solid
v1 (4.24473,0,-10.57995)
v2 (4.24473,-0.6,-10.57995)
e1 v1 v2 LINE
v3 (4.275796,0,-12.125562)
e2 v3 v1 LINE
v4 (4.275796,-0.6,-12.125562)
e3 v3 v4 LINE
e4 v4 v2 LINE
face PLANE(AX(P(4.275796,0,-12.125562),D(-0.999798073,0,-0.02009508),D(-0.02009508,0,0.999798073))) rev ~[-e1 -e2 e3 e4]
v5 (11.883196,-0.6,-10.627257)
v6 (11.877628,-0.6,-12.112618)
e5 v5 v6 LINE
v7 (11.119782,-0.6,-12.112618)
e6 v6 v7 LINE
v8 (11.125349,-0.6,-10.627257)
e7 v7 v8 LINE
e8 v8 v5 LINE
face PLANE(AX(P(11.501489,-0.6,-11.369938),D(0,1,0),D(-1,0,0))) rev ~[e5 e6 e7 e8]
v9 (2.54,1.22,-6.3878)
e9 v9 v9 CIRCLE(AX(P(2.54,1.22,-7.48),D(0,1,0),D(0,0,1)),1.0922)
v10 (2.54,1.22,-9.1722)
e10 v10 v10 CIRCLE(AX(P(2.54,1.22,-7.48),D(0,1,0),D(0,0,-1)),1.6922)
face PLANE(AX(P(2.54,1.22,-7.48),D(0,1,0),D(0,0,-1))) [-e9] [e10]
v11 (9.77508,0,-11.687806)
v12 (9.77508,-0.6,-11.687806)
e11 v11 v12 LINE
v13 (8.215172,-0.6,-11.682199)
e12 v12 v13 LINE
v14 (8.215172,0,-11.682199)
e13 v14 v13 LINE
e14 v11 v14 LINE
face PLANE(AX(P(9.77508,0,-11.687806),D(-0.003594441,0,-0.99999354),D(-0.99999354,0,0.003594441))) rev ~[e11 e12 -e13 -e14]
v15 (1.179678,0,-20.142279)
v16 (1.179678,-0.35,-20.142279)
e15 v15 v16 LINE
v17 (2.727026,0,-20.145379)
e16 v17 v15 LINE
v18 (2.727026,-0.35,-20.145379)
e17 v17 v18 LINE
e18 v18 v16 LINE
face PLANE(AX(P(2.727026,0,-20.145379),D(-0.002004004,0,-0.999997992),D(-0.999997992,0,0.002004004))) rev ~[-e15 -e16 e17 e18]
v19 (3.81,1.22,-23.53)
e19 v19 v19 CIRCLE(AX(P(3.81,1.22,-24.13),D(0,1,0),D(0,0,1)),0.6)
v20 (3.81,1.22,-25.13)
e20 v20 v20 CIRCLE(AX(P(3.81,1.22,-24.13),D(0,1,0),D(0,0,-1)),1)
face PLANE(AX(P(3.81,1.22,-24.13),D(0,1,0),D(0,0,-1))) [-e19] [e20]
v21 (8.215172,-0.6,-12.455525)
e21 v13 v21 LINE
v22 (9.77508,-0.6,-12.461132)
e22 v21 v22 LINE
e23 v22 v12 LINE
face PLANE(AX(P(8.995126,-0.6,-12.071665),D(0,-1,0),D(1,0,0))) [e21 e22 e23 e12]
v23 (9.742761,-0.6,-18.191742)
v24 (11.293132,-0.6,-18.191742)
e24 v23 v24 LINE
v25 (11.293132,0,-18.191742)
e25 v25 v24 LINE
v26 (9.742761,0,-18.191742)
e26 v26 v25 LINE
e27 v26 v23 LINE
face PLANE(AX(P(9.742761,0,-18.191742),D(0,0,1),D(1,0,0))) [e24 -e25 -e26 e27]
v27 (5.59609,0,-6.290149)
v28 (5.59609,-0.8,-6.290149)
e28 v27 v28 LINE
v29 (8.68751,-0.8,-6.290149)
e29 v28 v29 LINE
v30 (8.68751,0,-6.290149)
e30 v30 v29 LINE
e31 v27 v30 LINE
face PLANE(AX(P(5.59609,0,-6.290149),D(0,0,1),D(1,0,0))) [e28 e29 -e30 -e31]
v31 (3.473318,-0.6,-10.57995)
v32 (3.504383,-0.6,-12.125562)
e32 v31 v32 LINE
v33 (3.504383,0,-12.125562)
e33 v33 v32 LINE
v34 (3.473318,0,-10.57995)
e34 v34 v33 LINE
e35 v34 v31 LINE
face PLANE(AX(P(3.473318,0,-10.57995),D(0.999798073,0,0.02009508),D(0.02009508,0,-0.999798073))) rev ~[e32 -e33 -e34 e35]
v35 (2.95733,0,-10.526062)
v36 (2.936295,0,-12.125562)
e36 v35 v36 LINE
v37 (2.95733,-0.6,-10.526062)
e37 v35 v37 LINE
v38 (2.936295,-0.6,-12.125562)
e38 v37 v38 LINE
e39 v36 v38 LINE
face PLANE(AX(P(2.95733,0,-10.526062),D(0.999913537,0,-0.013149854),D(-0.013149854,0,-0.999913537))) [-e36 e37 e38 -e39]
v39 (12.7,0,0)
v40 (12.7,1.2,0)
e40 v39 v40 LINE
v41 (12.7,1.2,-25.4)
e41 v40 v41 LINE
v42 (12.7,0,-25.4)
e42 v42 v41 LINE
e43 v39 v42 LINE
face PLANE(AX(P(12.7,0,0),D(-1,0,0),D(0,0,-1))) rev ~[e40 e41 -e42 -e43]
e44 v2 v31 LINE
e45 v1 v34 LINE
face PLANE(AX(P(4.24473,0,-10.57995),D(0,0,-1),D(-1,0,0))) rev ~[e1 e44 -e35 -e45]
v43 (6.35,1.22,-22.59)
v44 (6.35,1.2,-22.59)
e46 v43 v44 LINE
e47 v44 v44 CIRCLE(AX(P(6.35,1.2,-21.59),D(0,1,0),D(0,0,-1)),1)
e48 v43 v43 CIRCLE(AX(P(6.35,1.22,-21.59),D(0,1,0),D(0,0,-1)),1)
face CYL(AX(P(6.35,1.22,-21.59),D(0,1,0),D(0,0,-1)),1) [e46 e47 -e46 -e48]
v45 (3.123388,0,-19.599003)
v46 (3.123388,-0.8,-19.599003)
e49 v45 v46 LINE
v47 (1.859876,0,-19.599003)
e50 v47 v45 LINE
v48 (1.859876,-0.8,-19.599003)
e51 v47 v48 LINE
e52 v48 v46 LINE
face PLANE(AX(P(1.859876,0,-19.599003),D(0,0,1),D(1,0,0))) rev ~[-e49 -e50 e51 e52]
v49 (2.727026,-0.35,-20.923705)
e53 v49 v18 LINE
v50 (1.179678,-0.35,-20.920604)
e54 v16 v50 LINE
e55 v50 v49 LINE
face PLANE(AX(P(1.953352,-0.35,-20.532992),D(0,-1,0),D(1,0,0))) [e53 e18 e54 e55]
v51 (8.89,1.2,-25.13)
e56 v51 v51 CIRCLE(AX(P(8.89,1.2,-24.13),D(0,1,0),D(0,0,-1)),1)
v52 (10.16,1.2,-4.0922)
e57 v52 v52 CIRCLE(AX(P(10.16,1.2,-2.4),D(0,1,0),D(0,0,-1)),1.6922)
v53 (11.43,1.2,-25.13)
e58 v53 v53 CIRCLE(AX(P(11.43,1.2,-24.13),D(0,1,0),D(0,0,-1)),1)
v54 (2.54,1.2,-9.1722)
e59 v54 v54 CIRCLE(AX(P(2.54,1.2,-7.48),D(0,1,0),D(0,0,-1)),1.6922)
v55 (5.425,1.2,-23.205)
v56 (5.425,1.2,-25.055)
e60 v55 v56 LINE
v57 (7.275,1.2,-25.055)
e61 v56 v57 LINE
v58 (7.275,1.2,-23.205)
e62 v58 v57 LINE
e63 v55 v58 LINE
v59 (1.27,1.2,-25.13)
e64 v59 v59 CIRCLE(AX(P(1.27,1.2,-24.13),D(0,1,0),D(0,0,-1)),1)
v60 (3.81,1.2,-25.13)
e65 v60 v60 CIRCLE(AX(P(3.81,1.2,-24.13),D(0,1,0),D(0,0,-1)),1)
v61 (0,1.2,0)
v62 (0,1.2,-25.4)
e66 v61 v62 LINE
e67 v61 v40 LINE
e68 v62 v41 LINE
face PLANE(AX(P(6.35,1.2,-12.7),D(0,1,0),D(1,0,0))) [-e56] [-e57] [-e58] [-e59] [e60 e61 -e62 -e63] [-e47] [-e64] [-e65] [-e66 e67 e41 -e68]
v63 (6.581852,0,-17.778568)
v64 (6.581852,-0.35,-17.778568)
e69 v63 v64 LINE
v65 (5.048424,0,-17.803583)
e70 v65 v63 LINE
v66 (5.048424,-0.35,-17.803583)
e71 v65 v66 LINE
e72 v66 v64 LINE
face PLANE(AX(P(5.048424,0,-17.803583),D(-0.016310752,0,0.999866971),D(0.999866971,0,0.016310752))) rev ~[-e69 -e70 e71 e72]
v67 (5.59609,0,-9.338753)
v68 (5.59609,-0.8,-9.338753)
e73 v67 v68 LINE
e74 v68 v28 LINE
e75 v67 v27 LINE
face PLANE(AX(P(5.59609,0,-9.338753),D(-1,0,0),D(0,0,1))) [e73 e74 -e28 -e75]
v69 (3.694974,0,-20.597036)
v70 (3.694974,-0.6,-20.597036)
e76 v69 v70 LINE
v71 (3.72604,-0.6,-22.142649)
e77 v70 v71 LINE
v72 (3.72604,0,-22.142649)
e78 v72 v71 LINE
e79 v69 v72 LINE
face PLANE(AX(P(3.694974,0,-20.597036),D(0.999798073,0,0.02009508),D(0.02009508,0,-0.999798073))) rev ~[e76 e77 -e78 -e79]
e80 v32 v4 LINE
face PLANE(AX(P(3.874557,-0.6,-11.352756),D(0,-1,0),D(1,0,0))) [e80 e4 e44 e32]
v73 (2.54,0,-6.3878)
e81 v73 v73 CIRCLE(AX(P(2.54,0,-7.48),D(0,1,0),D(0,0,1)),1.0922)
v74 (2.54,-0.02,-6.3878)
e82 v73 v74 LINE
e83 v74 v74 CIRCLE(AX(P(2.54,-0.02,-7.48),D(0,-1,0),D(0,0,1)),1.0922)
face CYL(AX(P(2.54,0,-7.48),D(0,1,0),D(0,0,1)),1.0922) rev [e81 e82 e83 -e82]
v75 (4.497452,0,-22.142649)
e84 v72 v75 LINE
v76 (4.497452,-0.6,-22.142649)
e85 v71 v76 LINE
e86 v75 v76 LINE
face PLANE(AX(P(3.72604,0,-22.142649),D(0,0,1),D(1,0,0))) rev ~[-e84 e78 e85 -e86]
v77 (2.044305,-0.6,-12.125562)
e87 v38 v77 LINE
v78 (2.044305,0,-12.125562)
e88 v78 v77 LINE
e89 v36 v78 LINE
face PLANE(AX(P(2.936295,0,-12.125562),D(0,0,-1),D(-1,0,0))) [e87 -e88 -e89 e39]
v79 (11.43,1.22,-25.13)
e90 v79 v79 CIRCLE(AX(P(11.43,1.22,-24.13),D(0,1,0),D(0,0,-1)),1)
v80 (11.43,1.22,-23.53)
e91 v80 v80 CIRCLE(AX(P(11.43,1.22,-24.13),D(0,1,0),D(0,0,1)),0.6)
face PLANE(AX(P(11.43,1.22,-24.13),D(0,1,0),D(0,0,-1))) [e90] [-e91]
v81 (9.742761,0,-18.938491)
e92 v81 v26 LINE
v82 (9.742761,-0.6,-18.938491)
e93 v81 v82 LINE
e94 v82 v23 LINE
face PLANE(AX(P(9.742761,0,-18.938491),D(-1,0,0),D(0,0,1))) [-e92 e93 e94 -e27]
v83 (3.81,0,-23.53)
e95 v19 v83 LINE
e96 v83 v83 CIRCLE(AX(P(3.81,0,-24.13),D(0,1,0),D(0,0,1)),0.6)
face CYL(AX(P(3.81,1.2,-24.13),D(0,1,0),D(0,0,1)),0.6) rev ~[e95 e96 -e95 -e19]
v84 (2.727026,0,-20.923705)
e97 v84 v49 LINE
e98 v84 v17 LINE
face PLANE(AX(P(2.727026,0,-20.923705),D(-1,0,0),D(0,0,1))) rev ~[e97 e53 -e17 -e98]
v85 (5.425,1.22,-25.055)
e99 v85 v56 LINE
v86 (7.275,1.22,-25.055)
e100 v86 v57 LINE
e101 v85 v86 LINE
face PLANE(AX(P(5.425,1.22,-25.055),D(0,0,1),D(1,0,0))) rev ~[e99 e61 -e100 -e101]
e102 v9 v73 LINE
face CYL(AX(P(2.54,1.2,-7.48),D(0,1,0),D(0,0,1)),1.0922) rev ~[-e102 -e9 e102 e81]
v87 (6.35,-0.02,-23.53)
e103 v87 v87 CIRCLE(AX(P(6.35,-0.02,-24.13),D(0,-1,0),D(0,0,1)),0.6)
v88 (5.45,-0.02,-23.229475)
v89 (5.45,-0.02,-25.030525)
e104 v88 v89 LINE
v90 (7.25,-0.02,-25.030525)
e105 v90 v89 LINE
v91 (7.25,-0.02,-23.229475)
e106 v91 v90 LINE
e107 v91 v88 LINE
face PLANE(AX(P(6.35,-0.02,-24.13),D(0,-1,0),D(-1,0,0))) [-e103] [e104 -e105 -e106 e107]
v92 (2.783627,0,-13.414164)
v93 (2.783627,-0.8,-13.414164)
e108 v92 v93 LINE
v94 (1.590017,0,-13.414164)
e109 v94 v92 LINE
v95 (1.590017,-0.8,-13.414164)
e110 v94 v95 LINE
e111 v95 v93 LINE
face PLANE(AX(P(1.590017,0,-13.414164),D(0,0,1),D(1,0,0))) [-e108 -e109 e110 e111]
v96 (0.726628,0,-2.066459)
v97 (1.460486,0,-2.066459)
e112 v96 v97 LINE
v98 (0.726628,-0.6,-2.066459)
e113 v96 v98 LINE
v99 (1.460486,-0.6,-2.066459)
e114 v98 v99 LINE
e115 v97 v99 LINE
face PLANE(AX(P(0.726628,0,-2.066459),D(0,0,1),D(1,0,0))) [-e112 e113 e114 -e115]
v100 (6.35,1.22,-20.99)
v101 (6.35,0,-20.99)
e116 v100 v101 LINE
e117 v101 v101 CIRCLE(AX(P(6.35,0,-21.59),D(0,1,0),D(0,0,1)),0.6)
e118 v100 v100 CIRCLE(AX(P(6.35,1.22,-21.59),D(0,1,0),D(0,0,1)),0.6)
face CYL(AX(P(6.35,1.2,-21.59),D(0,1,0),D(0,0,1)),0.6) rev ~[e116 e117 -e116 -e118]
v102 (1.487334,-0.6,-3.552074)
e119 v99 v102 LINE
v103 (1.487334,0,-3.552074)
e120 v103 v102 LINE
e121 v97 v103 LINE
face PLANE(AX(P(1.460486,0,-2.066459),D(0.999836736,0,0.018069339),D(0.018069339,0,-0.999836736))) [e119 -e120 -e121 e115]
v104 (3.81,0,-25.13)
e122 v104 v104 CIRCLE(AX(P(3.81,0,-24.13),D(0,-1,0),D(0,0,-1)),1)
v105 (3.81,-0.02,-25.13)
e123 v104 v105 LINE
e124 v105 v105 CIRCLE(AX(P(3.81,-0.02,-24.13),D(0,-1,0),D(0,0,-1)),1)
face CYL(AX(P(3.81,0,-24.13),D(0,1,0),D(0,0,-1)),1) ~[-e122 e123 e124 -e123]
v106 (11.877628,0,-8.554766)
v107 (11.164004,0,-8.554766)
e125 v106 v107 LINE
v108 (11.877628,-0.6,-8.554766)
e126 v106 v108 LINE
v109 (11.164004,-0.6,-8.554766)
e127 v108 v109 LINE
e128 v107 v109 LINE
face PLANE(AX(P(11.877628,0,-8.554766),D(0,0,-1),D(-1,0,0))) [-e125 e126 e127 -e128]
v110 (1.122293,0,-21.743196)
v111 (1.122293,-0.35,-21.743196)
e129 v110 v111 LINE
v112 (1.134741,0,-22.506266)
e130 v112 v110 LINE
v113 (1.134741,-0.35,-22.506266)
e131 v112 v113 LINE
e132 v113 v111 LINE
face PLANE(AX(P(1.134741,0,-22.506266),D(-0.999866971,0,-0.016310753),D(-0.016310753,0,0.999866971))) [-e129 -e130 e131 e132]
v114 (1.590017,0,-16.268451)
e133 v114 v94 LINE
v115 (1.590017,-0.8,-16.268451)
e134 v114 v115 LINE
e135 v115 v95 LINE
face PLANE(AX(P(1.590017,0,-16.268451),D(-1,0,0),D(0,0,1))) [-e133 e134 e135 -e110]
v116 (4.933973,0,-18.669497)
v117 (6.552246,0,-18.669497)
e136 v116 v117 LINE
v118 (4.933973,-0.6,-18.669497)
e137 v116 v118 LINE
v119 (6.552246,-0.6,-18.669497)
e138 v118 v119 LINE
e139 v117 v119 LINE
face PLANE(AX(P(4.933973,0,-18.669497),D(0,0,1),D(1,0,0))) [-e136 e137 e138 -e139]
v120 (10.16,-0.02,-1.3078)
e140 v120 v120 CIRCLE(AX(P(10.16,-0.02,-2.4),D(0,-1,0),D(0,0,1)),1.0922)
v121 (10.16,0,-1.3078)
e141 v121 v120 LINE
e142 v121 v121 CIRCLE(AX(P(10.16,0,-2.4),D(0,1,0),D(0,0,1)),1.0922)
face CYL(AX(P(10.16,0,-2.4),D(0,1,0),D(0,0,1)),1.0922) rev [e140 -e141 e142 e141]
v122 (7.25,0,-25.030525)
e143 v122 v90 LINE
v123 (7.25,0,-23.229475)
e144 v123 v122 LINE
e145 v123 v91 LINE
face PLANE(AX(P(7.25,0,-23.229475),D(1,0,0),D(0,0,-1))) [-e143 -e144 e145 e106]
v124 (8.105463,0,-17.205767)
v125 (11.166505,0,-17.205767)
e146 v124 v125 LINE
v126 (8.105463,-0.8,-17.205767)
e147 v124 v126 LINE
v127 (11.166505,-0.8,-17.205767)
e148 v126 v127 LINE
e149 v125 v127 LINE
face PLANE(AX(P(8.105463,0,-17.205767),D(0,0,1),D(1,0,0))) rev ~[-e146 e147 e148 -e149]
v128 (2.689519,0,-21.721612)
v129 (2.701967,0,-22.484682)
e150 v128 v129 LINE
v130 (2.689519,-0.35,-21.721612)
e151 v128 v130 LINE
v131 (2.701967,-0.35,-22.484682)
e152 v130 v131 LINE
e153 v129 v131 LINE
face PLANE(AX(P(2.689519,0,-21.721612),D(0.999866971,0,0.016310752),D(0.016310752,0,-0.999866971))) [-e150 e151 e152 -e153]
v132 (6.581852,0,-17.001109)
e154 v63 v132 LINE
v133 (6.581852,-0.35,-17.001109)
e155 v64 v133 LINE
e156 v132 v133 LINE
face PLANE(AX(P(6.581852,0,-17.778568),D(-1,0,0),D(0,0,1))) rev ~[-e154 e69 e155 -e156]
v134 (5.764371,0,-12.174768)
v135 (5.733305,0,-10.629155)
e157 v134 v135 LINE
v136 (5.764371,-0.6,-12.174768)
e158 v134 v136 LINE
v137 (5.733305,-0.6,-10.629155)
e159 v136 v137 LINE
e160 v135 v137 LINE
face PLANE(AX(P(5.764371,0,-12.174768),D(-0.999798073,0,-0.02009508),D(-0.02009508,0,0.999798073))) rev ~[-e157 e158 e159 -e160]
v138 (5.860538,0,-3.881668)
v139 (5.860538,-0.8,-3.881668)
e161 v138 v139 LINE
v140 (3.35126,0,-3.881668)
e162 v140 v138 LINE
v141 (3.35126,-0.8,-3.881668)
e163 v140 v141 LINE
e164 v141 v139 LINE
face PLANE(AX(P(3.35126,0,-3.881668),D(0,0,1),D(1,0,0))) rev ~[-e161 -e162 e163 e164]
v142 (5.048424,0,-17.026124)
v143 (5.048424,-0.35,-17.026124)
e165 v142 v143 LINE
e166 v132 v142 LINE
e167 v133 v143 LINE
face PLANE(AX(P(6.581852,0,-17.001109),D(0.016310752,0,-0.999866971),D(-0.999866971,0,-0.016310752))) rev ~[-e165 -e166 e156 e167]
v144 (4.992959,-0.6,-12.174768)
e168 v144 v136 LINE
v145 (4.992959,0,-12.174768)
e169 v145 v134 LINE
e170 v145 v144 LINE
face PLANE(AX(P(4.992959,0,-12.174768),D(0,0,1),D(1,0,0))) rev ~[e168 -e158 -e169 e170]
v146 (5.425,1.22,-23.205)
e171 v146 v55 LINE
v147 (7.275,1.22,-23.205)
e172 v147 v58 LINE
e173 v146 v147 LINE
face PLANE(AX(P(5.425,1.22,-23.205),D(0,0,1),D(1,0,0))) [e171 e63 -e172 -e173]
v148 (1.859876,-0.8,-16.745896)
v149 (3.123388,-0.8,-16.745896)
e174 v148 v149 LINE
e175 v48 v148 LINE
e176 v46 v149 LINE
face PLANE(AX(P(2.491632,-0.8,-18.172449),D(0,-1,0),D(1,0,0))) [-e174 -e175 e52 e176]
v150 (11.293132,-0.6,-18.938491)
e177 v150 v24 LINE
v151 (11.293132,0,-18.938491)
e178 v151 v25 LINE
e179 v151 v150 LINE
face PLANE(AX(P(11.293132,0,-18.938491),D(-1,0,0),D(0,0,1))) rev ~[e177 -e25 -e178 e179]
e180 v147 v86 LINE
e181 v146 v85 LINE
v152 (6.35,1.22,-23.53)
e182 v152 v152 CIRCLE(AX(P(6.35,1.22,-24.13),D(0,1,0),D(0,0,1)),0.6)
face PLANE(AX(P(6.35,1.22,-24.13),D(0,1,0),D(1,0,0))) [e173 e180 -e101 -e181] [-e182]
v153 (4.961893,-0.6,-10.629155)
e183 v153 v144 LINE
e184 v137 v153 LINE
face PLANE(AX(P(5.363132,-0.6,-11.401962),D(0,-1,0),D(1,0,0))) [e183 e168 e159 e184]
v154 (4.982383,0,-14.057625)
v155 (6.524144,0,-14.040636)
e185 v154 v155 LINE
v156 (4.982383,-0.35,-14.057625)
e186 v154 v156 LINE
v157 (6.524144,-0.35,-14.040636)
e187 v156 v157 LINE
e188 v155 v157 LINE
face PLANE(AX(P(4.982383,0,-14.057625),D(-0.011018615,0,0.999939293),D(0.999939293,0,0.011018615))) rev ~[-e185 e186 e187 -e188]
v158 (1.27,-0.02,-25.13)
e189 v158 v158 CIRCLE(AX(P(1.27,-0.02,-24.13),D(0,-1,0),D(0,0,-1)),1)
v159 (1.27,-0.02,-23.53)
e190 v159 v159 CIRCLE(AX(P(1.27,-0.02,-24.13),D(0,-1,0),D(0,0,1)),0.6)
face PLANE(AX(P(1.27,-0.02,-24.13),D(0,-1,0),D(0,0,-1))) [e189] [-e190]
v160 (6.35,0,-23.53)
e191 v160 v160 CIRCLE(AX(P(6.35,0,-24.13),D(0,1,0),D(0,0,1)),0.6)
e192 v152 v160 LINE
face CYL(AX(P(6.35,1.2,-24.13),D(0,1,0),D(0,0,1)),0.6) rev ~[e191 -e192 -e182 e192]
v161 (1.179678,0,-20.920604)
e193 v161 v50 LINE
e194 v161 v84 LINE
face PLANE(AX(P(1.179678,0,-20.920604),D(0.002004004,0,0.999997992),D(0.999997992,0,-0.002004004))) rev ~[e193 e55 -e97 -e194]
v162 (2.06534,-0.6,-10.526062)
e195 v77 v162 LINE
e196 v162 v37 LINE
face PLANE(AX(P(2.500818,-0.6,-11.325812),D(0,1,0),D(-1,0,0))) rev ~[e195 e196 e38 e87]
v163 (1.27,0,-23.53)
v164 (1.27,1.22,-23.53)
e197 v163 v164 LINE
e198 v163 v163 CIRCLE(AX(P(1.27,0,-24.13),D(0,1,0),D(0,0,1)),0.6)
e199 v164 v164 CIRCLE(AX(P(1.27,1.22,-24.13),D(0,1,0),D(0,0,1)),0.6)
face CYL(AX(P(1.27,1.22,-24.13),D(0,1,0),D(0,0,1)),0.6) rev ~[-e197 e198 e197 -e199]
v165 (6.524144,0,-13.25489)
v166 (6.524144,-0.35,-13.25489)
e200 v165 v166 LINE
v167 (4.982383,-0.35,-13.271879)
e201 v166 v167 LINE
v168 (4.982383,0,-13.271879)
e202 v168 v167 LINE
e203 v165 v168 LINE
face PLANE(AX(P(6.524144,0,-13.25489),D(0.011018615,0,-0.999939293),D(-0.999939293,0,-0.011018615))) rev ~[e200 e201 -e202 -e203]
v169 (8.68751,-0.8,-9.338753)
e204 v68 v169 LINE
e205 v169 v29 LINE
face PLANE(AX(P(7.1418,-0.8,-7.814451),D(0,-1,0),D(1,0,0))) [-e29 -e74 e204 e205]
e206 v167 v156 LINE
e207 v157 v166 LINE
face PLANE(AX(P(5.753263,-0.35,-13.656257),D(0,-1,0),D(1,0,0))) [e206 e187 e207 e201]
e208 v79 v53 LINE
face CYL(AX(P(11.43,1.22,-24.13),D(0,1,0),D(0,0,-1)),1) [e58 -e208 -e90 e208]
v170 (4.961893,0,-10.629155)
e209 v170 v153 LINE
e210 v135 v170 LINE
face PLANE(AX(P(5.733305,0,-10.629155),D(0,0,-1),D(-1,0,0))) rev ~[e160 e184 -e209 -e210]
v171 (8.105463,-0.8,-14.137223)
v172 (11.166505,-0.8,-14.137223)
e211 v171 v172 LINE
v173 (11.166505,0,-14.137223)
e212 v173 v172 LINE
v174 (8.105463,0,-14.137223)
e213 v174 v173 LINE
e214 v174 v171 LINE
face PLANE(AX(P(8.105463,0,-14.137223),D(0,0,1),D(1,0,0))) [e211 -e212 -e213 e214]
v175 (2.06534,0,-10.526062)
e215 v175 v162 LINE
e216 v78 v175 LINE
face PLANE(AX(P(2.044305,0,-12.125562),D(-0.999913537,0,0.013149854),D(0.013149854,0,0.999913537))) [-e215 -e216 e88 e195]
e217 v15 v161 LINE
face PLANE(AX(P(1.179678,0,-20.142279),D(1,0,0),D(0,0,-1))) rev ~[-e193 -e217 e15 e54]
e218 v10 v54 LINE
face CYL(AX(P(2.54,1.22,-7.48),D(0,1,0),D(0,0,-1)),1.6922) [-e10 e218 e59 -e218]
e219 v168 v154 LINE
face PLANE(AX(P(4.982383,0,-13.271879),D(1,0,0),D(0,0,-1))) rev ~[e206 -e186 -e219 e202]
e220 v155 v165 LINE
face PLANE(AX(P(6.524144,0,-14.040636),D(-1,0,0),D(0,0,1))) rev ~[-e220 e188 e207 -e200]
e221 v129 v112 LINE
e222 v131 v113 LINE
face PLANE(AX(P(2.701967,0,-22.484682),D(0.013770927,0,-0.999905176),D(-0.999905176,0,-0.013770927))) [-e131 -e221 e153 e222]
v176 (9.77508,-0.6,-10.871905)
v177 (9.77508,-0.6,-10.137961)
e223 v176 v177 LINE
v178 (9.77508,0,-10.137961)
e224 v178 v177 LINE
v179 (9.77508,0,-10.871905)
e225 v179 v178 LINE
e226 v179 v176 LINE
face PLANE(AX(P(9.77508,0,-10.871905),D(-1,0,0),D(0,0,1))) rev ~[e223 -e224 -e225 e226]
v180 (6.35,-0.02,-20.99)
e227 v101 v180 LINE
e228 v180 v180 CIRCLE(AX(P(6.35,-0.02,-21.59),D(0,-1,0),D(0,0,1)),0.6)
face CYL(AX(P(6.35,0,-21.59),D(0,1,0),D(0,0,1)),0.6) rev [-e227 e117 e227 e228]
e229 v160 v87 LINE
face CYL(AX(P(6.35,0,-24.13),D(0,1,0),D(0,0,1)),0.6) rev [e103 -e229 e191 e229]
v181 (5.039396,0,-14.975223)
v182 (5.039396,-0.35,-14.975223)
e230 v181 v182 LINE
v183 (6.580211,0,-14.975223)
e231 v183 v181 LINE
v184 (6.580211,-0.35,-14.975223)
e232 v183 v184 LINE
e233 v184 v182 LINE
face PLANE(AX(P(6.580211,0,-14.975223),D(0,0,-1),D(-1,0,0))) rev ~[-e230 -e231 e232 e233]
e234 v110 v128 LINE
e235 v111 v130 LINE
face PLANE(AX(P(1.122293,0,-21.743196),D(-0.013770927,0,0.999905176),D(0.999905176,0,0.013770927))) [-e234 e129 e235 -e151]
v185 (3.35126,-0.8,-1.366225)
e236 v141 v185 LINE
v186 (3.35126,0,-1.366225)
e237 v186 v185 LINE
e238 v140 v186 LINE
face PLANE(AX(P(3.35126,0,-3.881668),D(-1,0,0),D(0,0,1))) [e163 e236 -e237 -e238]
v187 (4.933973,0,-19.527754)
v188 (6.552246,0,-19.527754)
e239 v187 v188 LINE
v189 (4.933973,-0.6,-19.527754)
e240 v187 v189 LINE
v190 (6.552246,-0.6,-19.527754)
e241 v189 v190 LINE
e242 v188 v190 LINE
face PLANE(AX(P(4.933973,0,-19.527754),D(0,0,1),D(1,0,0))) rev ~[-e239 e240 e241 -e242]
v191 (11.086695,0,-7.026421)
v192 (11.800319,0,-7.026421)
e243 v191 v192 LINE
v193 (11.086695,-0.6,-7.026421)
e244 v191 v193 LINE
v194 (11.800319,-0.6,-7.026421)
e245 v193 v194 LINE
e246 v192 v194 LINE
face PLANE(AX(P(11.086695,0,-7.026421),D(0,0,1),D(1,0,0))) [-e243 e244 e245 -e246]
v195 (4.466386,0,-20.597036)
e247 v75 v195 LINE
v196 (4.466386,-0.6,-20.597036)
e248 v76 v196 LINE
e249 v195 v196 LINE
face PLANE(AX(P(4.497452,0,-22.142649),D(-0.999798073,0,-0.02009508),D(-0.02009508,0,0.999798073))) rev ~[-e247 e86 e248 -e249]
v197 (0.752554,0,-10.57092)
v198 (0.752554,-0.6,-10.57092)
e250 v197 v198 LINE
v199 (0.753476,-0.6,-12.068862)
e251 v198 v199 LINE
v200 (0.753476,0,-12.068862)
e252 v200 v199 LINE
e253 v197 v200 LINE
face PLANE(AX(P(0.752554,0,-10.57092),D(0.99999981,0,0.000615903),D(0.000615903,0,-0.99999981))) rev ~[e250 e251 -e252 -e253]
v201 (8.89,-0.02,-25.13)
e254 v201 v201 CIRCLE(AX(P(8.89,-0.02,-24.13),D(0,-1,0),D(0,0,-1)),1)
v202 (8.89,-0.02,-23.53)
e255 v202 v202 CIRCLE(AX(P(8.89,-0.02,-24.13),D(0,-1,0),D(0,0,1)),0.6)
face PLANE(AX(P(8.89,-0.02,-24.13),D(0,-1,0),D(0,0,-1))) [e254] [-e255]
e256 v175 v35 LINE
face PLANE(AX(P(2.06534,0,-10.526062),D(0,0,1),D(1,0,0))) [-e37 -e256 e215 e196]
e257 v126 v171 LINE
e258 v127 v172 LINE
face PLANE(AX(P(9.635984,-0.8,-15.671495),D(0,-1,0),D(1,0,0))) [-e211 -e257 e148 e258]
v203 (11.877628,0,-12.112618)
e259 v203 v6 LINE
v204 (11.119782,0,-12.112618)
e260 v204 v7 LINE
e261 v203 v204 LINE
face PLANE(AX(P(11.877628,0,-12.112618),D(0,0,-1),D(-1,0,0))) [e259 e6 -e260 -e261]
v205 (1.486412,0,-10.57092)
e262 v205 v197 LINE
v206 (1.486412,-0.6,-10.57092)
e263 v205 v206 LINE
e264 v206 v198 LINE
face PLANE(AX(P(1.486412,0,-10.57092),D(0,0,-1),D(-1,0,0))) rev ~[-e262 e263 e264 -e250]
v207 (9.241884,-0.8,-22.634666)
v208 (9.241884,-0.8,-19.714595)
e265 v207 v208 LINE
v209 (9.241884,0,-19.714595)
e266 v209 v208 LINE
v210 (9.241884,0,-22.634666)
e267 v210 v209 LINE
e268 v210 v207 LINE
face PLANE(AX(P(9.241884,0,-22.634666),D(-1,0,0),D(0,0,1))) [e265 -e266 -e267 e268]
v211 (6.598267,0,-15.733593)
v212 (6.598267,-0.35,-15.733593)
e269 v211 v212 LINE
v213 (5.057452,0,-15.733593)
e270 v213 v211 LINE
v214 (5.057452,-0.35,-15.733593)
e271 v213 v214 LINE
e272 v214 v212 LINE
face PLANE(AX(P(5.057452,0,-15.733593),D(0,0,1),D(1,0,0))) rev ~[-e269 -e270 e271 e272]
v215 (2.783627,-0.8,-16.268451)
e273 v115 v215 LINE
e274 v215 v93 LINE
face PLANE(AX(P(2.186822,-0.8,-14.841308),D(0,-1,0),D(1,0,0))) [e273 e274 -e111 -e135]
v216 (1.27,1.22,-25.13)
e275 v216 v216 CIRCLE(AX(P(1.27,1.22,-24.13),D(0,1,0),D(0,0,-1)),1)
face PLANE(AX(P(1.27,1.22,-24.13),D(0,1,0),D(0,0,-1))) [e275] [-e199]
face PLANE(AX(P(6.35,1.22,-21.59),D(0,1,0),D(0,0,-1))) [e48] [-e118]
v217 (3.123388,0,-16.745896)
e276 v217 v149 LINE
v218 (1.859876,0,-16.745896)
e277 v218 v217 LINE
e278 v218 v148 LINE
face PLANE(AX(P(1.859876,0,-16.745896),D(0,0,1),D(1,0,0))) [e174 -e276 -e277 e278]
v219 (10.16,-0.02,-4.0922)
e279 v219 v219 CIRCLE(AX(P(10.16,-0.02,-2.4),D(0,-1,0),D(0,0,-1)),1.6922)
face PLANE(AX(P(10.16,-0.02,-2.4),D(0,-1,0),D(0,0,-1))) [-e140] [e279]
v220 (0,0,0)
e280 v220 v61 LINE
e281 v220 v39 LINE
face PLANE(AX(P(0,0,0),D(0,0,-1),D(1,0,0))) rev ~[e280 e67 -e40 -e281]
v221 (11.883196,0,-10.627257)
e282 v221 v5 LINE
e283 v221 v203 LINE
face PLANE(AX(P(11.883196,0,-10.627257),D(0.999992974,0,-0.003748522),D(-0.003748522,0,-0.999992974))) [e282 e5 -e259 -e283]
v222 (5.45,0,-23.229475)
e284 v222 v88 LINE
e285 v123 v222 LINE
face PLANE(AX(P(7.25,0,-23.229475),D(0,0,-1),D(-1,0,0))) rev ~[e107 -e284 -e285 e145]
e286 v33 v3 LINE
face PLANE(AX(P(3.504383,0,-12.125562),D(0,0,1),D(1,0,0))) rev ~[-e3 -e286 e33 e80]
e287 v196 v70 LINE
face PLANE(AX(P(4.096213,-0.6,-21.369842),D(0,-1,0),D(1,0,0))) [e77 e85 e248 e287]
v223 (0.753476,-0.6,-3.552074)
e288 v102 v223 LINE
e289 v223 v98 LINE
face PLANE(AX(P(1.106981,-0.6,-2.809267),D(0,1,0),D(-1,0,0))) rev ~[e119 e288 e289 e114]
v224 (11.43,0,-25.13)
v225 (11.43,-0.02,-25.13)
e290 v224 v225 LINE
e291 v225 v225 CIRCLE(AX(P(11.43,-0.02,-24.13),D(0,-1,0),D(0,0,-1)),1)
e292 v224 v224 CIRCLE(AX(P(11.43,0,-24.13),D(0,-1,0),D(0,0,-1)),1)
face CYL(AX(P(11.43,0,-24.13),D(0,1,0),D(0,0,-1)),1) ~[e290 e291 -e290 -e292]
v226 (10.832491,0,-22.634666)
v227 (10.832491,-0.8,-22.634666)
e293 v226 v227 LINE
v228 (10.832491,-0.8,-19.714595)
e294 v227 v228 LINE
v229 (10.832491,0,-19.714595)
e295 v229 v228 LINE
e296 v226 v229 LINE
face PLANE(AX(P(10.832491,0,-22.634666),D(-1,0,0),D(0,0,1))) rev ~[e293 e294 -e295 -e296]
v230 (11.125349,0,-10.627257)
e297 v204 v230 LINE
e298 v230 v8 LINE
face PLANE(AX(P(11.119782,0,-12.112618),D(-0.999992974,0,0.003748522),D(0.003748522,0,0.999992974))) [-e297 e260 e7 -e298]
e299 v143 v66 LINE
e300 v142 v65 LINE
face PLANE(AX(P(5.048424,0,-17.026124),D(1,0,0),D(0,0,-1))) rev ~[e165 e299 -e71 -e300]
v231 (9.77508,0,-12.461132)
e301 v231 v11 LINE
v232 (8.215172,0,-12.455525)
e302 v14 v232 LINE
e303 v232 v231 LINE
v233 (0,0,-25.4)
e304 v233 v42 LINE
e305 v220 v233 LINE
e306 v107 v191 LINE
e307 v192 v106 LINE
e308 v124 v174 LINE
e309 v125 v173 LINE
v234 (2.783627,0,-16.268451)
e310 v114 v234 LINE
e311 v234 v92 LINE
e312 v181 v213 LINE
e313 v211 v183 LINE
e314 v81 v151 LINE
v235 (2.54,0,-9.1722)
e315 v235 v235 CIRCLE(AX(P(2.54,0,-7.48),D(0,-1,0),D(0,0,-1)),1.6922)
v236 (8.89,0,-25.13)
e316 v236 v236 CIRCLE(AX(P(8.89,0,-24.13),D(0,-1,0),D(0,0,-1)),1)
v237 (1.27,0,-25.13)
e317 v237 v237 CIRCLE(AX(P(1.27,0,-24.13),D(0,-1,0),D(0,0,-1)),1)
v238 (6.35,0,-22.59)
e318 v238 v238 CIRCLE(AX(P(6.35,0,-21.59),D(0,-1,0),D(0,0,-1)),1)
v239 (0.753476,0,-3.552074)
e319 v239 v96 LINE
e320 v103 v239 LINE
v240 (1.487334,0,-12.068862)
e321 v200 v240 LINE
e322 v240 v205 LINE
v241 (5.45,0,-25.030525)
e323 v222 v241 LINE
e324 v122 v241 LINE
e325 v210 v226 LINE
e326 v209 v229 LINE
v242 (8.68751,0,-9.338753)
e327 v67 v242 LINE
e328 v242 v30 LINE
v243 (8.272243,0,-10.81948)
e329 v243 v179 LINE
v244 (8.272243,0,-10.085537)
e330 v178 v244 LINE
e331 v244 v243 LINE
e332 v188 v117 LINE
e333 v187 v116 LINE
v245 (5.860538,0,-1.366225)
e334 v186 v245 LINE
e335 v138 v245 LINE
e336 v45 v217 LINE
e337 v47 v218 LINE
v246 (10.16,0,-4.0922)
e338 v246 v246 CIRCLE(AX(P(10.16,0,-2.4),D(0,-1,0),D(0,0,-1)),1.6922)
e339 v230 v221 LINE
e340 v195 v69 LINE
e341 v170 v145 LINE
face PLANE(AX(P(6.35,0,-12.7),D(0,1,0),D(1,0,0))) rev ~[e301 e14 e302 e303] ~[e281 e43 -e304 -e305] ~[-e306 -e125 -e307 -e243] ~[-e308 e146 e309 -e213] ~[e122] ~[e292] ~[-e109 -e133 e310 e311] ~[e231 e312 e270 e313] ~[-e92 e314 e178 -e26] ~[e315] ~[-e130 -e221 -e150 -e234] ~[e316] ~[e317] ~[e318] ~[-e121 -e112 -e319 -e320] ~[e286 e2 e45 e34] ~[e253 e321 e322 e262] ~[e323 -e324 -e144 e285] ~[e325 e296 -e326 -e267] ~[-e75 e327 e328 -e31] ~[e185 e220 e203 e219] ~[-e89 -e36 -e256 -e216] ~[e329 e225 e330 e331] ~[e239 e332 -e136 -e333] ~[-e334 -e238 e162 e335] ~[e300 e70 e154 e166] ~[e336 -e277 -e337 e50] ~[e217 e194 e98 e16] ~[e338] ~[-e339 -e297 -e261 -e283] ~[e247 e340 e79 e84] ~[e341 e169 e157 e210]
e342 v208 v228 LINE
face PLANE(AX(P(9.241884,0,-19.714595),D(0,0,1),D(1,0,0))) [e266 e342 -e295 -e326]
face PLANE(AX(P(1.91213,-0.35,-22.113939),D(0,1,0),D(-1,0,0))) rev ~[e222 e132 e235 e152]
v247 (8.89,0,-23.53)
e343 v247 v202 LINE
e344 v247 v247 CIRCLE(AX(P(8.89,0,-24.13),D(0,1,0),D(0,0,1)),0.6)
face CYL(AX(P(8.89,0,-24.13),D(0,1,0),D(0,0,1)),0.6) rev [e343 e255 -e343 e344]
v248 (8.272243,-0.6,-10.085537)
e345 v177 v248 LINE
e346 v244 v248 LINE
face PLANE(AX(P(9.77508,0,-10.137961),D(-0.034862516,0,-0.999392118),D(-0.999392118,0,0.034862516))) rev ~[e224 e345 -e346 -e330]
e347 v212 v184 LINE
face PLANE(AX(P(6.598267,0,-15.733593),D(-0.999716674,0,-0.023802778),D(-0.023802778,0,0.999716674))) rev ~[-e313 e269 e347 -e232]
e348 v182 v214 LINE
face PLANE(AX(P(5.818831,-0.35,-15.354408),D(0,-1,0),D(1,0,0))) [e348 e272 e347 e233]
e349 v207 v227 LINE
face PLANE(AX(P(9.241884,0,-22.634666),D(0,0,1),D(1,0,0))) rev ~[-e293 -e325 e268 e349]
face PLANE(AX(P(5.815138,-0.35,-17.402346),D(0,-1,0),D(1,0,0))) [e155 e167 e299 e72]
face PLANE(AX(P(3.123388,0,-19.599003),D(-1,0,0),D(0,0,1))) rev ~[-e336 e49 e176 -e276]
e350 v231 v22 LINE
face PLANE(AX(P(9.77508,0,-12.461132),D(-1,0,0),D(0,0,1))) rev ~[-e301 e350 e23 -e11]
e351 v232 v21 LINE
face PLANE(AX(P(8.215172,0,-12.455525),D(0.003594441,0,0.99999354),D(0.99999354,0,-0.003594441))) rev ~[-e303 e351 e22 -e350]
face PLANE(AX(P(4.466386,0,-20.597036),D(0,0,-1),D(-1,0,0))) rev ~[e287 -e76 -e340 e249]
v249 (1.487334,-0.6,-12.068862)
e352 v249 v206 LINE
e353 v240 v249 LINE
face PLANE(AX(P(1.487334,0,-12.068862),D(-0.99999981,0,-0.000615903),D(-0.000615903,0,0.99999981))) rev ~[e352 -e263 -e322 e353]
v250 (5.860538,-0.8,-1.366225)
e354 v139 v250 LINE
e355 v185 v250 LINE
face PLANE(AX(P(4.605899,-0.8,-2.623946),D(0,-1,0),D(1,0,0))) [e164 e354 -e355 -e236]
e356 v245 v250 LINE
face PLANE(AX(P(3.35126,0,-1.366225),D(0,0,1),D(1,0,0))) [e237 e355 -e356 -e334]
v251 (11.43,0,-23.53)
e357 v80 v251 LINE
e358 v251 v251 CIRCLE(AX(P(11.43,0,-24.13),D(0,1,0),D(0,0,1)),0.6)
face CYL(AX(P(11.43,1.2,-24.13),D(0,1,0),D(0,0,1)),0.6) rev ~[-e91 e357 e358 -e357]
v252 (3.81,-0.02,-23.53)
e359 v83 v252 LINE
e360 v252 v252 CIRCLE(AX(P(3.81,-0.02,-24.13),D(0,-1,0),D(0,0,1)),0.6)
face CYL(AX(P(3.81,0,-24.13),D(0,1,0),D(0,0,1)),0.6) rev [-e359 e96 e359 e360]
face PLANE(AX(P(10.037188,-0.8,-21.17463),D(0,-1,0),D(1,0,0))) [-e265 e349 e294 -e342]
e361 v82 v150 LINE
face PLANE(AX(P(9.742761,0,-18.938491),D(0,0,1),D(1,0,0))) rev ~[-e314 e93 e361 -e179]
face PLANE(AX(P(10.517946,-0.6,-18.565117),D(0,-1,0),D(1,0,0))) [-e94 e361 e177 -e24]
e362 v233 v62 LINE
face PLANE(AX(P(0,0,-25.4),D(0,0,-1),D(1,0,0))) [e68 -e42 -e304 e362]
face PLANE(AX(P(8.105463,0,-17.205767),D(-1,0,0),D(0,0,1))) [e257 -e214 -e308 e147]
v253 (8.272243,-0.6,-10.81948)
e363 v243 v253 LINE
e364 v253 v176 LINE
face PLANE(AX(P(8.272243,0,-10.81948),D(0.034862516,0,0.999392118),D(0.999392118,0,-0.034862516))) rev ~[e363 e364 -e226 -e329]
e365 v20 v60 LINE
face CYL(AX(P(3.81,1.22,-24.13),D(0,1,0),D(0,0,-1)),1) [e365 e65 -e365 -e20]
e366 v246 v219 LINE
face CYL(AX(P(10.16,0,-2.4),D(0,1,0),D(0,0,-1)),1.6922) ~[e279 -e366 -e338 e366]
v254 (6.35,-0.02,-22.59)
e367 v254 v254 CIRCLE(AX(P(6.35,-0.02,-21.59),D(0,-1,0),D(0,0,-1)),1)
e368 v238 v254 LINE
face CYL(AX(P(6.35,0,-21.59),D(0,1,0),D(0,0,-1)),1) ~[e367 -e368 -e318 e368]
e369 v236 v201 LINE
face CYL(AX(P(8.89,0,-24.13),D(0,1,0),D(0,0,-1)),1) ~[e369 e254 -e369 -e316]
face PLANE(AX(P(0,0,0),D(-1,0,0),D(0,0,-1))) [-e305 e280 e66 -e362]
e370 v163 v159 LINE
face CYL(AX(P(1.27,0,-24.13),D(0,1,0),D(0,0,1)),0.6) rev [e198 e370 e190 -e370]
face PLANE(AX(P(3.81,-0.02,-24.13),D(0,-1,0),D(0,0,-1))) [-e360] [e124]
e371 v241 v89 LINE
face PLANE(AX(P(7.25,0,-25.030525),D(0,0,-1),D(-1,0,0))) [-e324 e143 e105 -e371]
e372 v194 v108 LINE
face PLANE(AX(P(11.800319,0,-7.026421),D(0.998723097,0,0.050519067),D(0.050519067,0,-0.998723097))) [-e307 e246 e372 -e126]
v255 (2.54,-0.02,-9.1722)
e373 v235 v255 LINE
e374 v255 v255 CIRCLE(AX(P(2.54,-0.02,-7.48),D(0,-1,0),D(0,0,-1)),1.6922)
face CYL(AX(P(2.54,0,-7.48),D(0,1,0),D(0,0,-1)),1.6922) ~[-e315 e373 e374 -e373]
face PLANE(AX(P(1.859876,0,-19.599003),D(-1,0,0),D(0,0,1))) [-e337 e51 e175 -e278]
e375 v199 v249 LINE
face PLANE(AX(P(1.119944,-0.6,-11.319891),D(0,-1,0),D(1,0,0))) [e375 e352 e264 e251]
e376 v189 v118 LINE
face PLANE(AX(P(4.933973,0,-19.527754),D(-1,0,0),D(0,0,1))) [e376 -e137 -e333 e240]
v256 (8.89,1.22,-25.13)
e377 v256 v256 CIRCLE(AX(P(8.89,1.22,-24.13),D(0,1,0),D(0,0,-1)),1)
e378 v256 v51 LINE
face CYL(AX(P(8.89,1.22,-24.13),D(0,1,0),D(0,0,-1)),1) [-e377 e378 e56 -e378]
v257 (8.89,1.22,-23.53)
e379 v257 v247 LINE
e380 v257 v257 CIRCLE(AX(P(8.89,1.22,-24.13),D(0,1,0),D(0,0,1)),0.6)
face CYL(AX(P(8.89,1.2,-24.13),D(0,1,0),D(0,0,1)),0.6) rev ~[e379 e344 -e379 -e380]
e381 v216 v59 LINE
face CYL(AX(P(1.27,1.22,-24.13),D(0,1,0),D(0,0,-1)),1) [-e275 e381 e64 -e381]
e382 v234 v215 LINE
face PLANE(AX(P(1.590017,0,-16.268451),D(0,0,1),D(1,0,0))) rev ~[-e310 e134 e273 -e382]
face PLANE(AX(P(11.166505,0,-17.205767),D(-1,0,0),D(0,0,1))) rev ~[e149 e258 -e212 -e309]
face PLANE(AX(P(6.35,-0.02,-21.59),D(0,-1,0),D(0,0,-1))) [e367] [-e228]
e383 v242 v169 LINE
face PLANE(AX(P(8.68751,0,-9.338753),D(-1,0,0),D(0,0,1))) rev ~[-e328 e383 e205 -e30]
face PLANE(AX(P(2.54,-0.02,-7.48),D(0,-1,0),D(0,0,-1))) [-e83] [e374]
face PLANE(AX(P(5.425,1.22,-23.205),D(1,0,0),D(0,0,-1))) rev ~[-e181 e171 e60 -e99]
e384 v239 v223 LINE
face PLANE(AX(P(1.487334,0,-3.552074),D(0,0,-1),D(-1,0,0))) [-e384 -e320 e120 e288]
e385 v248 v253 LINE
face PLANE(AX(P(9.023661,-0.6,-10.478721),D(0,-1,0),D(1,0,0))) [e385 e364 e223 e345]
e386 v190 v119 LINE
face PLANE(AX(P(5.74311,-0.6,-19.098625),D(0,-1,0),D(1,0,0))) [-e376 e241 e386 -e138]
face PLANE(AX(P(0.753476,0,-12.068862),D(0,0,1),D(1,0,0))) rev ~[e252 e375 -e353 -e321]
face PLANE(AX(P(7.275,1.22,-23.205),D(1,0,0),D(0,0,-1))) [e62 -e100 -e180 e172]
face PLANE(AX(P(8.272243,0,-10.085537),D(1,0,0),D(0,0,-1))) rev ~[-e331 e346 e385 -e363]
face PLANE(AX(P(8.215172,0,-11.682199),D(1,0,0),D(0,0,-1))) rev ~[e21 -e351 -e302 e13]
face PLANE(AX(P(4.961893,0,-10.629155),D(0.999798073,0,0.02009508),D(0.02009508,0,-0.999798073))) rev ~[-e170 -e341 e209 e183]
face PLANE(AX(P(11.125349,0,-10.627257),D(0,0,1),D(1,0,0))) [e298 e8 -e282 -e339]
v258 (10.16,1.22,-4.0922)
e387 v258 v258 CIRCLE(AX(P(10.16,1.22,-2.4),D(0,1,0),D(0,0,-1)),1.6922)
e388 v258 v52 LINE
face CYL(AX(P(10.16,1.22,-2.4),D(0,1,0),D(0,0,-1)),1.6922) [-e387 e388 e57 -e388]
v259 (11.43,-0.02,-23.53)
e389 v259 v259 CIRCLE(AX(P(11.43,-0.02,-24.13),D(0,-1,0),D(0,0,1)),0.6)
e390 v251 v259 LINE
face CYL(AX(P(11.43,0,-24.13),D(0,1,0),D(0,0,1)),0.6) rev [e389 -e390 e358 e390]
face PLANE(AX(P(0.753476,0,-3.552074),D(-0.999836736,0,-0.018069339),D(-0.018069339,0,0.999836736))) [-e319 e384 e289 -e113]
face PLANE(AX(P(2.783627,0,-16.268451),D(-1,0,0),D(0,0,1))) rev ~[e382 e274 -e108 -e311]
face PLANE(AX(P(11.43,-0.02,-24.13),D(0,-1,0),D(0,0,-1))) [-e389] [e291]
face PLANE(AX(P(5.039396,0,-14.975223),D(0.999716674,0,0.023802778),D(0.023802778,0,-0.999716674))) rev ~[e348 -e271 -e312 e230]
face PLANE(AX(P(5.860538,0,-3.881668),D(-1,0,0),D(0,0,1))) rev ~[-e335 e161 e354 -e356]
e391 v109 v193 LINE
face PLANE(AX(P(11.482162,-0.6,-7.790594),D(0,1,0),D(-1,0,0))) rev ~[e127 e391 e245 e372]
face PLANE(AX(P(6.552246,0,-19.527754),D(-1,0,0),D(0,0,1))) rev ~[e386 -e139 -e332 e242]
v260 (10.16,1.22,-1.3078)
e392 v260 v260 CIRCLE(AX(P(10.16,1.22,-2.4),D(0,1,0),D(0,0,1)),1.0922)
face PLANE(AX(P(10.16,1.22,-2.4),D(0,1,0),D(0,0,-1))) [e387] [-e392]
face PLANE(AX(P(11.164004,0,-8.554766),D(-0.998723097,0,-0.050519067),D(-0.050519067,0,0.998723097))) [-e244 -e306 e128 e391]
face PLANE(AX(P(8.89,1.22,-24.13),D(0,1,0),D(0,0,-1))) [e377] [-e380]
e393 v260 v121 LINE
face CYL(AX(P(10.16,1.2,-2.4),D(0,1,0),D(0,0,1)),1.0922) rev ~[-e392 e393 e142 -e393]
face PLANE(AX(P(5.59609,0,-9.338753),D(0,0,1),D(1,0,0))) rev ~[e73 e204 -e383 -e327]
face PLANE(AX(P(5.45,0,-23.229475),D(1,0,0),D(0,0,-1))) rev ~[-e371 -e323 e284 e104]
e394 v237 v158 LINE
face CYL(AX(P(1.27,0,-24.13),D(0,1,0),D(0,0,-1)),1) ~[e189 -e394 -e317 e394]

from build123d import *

# Parameters (mm, degrees)
ESQUISSE1_W             = 12.7
ESQUISSE1_H             = 25.4
BOSS_EXTRU_1_DEPTH      = 1.2
ESQUISSE2_R             = 1.0922
ESQUISSE2_R_2           = 0.6
ENL_V_MAT_EXTRU_1_DEPTH = 29.423405848
BOSS_EXTRU_2_START      = 0.02
ESQUISSE3_R             = 1
ESQUISSE3_R_2           = 0.6
ESQUISSE3_R_3           = 1.6922
ESQUISSE3_R_4           = 1.0922
ESQUISSE3_W             = 1.85
ESQUISSE3_H             = 1.85
BOSS_EXTRU_2_DEPTH      = 0.02
ESQUISSE4_R             = 1.6922
ESQUISSE4_R_2           = 1.0922
ESQUISSE4_R_3           = 1
ESQUISSE4_R_4           = 0.6
ESQUISSE4_W             = 1.8
ESQUISSE4_H             = 1.801050322
BOSS_EXTRU_3_DEPTH      = 0.02
ESQUISSE5_W             = 2.509277943
ESQUISSE5_H             = 2.515443245
ESQUISSE5_W_2           = 3.091420622
ESQUISSE5_H_2           = 3.048603163
ESQUISSE5_W_3           = 3.06104158
ESQUISSE5_H_3           = 3.068544132
ESQUISSE5_W_4           = 1.193610918
ESQUISSE5_H_4           = 2.854286977
ESQUISSE5_W_5           = 1.26351165
ESQUISSE5_H_5           = 2.853107199
ESQUISSE5_W_6           = 1.59060758
ESQUISSE5_H_6           = 2.920070631
BOSS_EXTRU_4_DEPTH      = 0.8
ESQUISSE6_W             = 1.618272423
ESQUISSE6_H             = 0.858257016
ESQUISSE6_W_2           = 1.550371274
ESQUISSE6_H_2           = 0.746748434
BOSS_EXTRU_5_DEPTH      = 0.6
BOSS_EXTRU_6_DEPTH      = 0.35


with BuildPart() as part:
    # Esquisse1 → Boss.-Extru.1 (new body)
    with BuildSketch(Plane(origin=(0, 0, 0), x_dir=(1, 0, 0), z_dir=(0, 1, 0))):
        with Locations((6.35, 12.7)):
            Rectangle(ESQUISSE1_W, ESQUISSE1_H)
    extrude(amount=BOSS_EXTRU_1_DEPTH)

    # Esquisse2 → Enlèv. mat.-Extru.1 (cut, through all)
    with BuildSketch(Plane(origin=(0, 1.2, 0), x_dir=(1, 0, 0), z_dir=(0, 1, 0))):
        with Locations(Location((2.54, 7.48, 0), (0, 0, 270))):
            Circle(ESQUISSE2_R)
        with Locations(Location((10.16, 2.4, 0), (0, 0, 270))):
            Circle(ESQUISSE2_R)
        with Locations(Location((6.35, 24.13, 0), (0, 0, 270))):
            Circle(ESQUISSE2_R_2)
        with Locations(Location((8.89, 24.13, 0), (0, 0, 270))):
            Circle(ESQUISSE2_R_2)
        with Locations(Location((11.43, 24.13, 0), (0, 0, 270))):
            Circle(ESQUISSE2_R_2)
        with Locations(Location((3.81, 24.13, 0), (0, 0, 270))):
            Circle(ESQUISSE2_R_2)
        with Locations(Location((1.27, 24.13, 0), (0, 0, 270))):
            Circle(ESQUISSE2_R_2)
        with Locations(Location((6.35, 21.59, 0), (0, 0, 270))):
            Circle(ESQUISSE2_R_2)
    extrude(amount=-ENL_V_MAT_EXTRU_1_DEPTH, mode=Mode.SUBTRACT)

    # Esquisse3 → Boss.-Extru.2 (add)
    # profile 1 of 8: a face of its own
    with BuildSketch(Plane(origin=(0, 1.2, 0), x_dir=(1, 0, 0), z_dir=(0, 1, 0)).offset(BOSS_EXTRU_2_START)):
        with Locations(Location((1.27, 24.13, 0), (0, 0, 90))):
            Circle(ESQUISSE3_R)
        with Locations(Location((1.27, 24.13, 0), (0, 0, 270))):
            Circle(ESQUISSE3_R_2, mode=Mode.SUBTRACT)
    # profile 2 of 8: a face of its own
    with BuildSketch(Plane(origin=(0, 1.2, 0), x_dir=(1, 0, 0), z_dir=(0, 1, 0)).offset(BOSS_EXTRU_2_START)):
        with Locations(Location((3.81, 24.13, 0), (0, 0, 90))):
            Circle(ESQUISSE3_R)
        with Locations(Location((3.81, 24.13, 0), (0, 0, 270))):
            Circle(ESQUISSE3_R_2, mode=Mode.SUBTRACT)
    # profile 3 of 8: a face of its own
    with BuildSketch(Plane(origin=(0, 1.2, 0), x_dir=(1, 0, 0), z_dir=(0, 1, 0)).offset(BOSS_EXTRU_2_START)):
        with Locations(Location((8.89, 24.13, 0), (0, 0, 90))):
            Circle(ESQUISSE3_R)
        with Locations(Location((8.89, 24.13, 0), (0, 0, 270))):
            Circle(ESQUISSE3_R_2, mode=Mode.SUBTRACT)
    # profile 4 of 8: a face of its own
    with BuildSketch(Plane(origin=(0, 1.2, 0), x_dir=(1, 0, 0), z_dir=(0, 1, 0)).offset(BOSS_EXTRU_2_START)):
        with Locations(Location((11.43, 24.13, 0), (0, 0, 90))):
            Circle(ESQUISSE3_R)
        with Locations(Location((11.43, 24.13, 0), (0, 0, 270))):
            Circle(ESQUISSE3_R_2, mode=Mode.SUBTRACT)
    # profile 5 of 8: a face of its own
    with BuildSketch(Plane(origin=(0, 1.2, 0), x_dir=(1, 0, 0), z_dir=(0, 1, 0)).offset(BOSS_EXTRU_2_START)):
        with Locations(Location((6.35, 21.59, 0), (0, 0, 90))):
            Circle(ESQUISSE3_R)
        with Locations(Location((6.35, 21.59, 0), (0, 0, 270))):
            Circle(ESQUISSE3_R_2, mode=Mode.SUBTRACT)
    # profile 6 of 8: a face of its own
    with BuildSketch(Plane(origin=(0, 1.2, 0), x_dir=(1, 0, 0), z_dir=(0, 1, 0)).offset(BOSS_EXTRU_2_START)):
        with Locations(Location((2.54, 7.48, 0), (0, 0, 90))):
            Circle(ESQUISSE3_R_3)
        with Locations(Location((2.54, 7.48, 0), (0, 0, 270))):
            Circle(ESQUISSE3_R_4, mode=Mode.SUBTRACT)
    # profile 7 of 8: a face of its own
    with BuildSketch(Plane(origin=(0, 1.2, 0), x_dir=(1, 0, 0), z_dir=(0, 1, 0)).offset(BOSS_EXTRU_2_START)):
        with Locations(Location((10.16, 2.4, 0), (0, 0, 90))):
            Circle(ESQUISSE3_R_3)
        with Locations(Location((10.16, 2.4, 0), (0, 0, 270))):
            Circle(ESQUISSE3_R_4, mode=Mode.SUBTRACT)
    # profile 8 of 8: a face of its own
    with BuildSketch(Plane(origin=(0, 1.2, 0), x_dir=(1, 0, 0), z_dir=(0, 1, 0)).offset(BOSS_EXTRU_2_START)):
        with Locations((6.35, 24.13)):
            Rectangle(ESQUISSE3_W, ESQUISSE3_H)
        with Locations(Location((6.35, 24.13, 0), (0, 0, 270))):
            Circle(ESQUISSE3_R_2, mode=Mode.SUBTRACT)
    extrude(amount=-BOSS_EXTRU_2_DEPTH)

    # Esquisse4 → Boss.-Extru.3 (add)
    # profile 1 of 8: a face of its own
    with BuildSketch(Plane(origin=(0, 0, 0), x_dir=(-1, 0, 0), z_dir=(0, -1, 0))):
        with Locations(Location((-2.54, 7.48, 0), (0, 0, 90))):
            Circle(ESQUISSE4_R)
        with Locations(Location((-2.54, 7.48, 0), (0, 0, 270))):
            Circle(ESQUISSE4_R_2, mode=Mode.SUBTRACT)
    # profile 2 of 8: a face of its own
    with BuildSketch(Plane(origin=(0, 0, 0), x_dir=(-1, 0, 0), z_dir=(0, -1, 0))):
        with Locations(Location((-10.16, 2.4, 0), (0, 0, 90))):
            Circle(ESQUISSE4_R)
        with Locations(Location((-10.16, 2.4, 0), (0, 0, 270))):
            Circle(ESQUISSE4_R_2, mode=Mode.SUBTRACT)
    # profile 3 of 8: a face of its own
    with BuildSketch(Plane(origin=(0, 0, 0), x_dir=(-1, 0, 0), z_dir=(0, -1, 0))):
        with Locations(Location((-6.35, 21.59, 0), (0, 0, 90))):
            Circle(ESQUISSE4_R_3)
        with Locations(Location((-6.35, 21.59, 0), (0, 0, 270))):
            Circle(ESQUISSE4_R_4, mode=Mode.SUBTRACT)
    # profile 4 of 8: a face of its own
    with BuildSketch(Plane(origin=(0, 0, 0), x_dir=(-1, 0, 0), z_dir=(0, -1, 0))):
        with Locations(Location((-8.89, 24.13, 0), (0, 0, 90))):
            Circle(ESQUISSE4_R_3)
        with Locations(Location((-8.89, 24.13, 0), (0, 0, 270))):
            Circle(ESQUISSE4_R_4, mode=Mode.SUBTRACT)
    # profile 5 of 8: a face of its own
    with BuildSketch(Plane(origin=(0, 0, 0), x_dir=(-1, 0, 0), z_dir=(0, -1, 0))):
        with Locations(Location((-11.43, 24.13, 0), (0, 0, 90))):
            Circle(ESQUISSE4_R_3)
        with Locations(Location((-11.43, 24.13, 0), (0, 0, 270))):
            Circle(ESQUISSE4_R_4, mode=Mode.SUBTRACT)
    # profile 6 of 8: a face of its own
    with BuildSketch(Plane(origin=(0, 0, 0), x_dir=(-1, 0, 0), z_dir=(0, -1, 0))):
        with Locations(Location((-3.81, 24.13, 0), (0, 0, 90))):
            Circle(ESQUISSE4_R_3)
        with Locations(Location((-3.81, 24.13, 0), (0, 0, 270))):
            Circle(ESQUISSE4_R_4, mode=Mode.SUBTRACT)
    # profile 7 of 8: a face of its own
    with BuildSketch(Plane(origin=(0, 0, 0), x_dir=(-1, 0, 0), z_dir=(0, -1, 0))):
        with Locations(Location((-1.27, 24.13, 0), (0, 0, 90))):
            Circle(ESQUISSE4_R_3)
        with Locations(Location((-1.27, 24.13, 0), (0, 0, 270))):
            Circle(ESQUISSE4_R_4, mode=Mode.SUBTRACT)
    # profile 8 of 8: a face of its own
    with BuildSketch(Plane(origin=(0, 0, 0), x_dir=(-1, 0, 0), z_dir=(0, -1, 0))):
        with Locations((-6.35, 24.13)):
            Rectangle(ESQUISSE4_W, ESQUISSE4_H)
        with Locations(Location((-6.35, 24.13, 0), (0, 0, 270))):
            Circle(ESQUISSE4_R_4, mode=Mode.SUBTRACT)
    extrude(amount=BOSS_EXTRU_3_DEPTH)

    # Esquisse5 → Boss.-Extru.4 (add)
    with BuildSketch(Plane.XZ):
        with Locations((4.605899052, -2.623946332)):
            Rectangle(ESQUISSE5_W, ESQUISSE5_H)
        with Locations((7.141800063, -7.814451049)):
            Rectangle(ESQUISSE5_W_2, ESQUISSE5_H_2)
        with Locations((9.635983842, -15.671495352)):
            Rectangle(ESQUISSE5_W_3, ESQUISSE5_H_3)
        with Locations((2.186822026, -14.841307754)):
            Rectangle(ESQUISSE5_W_4, ESQUISSE5_H_4)
        with Locations((2.491632252, -18.172449209)):
            Rectangle(ESQUISSE5_W_5, ESQUISSE5_H_5)
        with Locations((10.037187645, -21.174630377)):
            Rectangle(ESQUISSE5_W_6, ESQUISSE5_H_6)
    extrude(amount=BOSS_EXTRU_4_DEPTH)

    # Esquisse6 → Boss.-Extru.5 (add)
    with BuildSketch(Plane.XZ):
        Polygon((0.726627768, -2.066459052), (1.460485759, -2.066459052), (1.487334222, -3.552074009), (0.753476231, -3.552074009), align=None)
        Polygon((11.086694799, -7.026420932), (11.800319135, -7.026420932), (11.877628438, -8.554766384), (11.164004102, -8.554766384), align=None)
        Polygon((11.125349451, -10.627256859), (11.883196388, -10.627256859), (11.877628438, -12.112618353), (11.119781502, -12.112618353), align=None)
        Polygon((8.272243219, -10.085536784), (8.272243219, -10.819480111), (9.775079555, -10.871904634), (9.775079555, -10.137961308), align=None)
        Polygon((8.215171902, -11.68219873), (8.215171902, -12.455524532), (9.775079555, -12.461131564), (9.775079555, -11.687805762), align=None)
        Polygon((0.753476231, -12.068861631), (1.487334222, -12.068861631), (1.486411635, -10.570920499), (0.752553644, -10.570920499), align=None)
        Polygon((2.936295169, -12.12556249), (2.044305287, -12.12556249), (2.06534031, -10.526061527), (2.957330192, -10.526061527), align=None)
        Polygon((3.504383436, -12.12556249), (4.275795617, -12.12556249), (4.244730134, -10.579949827), (3.473317953, -10.579949827), align=None)
        Polygon((4.992958725, -12.174767916), (5.764370906, -12.174767916), (5.733305423, -10.629155253), (4.961893242, -10.629155253), align=None)
        Polygon((3.72603955, -22.142648569), (4.497451731, -22.142648569), (4.466386248, -20.597035906), (3.694974067, -20.597035906), align=None)
        with Locations((5.743109512, -19.098625419)):
            Rectangle(ESQUISSE6_W, ESQUISSE6_H)
        with Locations((10.517946357, -18.5651166)):
            Rectangle(ESQUISSE6_W_2, ESQUISSE6_H_2)
    extrude(amount=BOSS_EXTRU_5_DEPTH)

    # Esquisse7 → Boss.-Extru.6 (add)
    with BuildSketch(Plane.XZ):
        Polygon((4.982382693, -13.271878721), (4.982382693, -14.057624892), (6.524144098, -14.040635785), (6.524144098, -13.254889615), align=None)
        Polygon((5.057452454, -15.733592818), (6.59826695, -15.733592818), (6.58021053, -14.975223183), (5.039396034, -14.975223183), align=None)
        Polygon((5.048424244, -17.026123559), (5.048424244, -17.803582581), (6.581851825, -17.778567896), (6.581851825, -17.001108874), align=None)
        Polygon((1.179677832, -20.142278538), (1.179677832, -20.920603911), (2.727025883, -20.923704809), (2.727025883, -20.145379436), align=None)
        Polygon((1.134741003, -22.506266059), (1.122293095, -21.74319572), (2.689519452, -21.721611514), (2.701967359, -22.484681852), align=None)
    extrude(amount=BOSS_EXTRU_6_DEPTH)


solid = part.part
